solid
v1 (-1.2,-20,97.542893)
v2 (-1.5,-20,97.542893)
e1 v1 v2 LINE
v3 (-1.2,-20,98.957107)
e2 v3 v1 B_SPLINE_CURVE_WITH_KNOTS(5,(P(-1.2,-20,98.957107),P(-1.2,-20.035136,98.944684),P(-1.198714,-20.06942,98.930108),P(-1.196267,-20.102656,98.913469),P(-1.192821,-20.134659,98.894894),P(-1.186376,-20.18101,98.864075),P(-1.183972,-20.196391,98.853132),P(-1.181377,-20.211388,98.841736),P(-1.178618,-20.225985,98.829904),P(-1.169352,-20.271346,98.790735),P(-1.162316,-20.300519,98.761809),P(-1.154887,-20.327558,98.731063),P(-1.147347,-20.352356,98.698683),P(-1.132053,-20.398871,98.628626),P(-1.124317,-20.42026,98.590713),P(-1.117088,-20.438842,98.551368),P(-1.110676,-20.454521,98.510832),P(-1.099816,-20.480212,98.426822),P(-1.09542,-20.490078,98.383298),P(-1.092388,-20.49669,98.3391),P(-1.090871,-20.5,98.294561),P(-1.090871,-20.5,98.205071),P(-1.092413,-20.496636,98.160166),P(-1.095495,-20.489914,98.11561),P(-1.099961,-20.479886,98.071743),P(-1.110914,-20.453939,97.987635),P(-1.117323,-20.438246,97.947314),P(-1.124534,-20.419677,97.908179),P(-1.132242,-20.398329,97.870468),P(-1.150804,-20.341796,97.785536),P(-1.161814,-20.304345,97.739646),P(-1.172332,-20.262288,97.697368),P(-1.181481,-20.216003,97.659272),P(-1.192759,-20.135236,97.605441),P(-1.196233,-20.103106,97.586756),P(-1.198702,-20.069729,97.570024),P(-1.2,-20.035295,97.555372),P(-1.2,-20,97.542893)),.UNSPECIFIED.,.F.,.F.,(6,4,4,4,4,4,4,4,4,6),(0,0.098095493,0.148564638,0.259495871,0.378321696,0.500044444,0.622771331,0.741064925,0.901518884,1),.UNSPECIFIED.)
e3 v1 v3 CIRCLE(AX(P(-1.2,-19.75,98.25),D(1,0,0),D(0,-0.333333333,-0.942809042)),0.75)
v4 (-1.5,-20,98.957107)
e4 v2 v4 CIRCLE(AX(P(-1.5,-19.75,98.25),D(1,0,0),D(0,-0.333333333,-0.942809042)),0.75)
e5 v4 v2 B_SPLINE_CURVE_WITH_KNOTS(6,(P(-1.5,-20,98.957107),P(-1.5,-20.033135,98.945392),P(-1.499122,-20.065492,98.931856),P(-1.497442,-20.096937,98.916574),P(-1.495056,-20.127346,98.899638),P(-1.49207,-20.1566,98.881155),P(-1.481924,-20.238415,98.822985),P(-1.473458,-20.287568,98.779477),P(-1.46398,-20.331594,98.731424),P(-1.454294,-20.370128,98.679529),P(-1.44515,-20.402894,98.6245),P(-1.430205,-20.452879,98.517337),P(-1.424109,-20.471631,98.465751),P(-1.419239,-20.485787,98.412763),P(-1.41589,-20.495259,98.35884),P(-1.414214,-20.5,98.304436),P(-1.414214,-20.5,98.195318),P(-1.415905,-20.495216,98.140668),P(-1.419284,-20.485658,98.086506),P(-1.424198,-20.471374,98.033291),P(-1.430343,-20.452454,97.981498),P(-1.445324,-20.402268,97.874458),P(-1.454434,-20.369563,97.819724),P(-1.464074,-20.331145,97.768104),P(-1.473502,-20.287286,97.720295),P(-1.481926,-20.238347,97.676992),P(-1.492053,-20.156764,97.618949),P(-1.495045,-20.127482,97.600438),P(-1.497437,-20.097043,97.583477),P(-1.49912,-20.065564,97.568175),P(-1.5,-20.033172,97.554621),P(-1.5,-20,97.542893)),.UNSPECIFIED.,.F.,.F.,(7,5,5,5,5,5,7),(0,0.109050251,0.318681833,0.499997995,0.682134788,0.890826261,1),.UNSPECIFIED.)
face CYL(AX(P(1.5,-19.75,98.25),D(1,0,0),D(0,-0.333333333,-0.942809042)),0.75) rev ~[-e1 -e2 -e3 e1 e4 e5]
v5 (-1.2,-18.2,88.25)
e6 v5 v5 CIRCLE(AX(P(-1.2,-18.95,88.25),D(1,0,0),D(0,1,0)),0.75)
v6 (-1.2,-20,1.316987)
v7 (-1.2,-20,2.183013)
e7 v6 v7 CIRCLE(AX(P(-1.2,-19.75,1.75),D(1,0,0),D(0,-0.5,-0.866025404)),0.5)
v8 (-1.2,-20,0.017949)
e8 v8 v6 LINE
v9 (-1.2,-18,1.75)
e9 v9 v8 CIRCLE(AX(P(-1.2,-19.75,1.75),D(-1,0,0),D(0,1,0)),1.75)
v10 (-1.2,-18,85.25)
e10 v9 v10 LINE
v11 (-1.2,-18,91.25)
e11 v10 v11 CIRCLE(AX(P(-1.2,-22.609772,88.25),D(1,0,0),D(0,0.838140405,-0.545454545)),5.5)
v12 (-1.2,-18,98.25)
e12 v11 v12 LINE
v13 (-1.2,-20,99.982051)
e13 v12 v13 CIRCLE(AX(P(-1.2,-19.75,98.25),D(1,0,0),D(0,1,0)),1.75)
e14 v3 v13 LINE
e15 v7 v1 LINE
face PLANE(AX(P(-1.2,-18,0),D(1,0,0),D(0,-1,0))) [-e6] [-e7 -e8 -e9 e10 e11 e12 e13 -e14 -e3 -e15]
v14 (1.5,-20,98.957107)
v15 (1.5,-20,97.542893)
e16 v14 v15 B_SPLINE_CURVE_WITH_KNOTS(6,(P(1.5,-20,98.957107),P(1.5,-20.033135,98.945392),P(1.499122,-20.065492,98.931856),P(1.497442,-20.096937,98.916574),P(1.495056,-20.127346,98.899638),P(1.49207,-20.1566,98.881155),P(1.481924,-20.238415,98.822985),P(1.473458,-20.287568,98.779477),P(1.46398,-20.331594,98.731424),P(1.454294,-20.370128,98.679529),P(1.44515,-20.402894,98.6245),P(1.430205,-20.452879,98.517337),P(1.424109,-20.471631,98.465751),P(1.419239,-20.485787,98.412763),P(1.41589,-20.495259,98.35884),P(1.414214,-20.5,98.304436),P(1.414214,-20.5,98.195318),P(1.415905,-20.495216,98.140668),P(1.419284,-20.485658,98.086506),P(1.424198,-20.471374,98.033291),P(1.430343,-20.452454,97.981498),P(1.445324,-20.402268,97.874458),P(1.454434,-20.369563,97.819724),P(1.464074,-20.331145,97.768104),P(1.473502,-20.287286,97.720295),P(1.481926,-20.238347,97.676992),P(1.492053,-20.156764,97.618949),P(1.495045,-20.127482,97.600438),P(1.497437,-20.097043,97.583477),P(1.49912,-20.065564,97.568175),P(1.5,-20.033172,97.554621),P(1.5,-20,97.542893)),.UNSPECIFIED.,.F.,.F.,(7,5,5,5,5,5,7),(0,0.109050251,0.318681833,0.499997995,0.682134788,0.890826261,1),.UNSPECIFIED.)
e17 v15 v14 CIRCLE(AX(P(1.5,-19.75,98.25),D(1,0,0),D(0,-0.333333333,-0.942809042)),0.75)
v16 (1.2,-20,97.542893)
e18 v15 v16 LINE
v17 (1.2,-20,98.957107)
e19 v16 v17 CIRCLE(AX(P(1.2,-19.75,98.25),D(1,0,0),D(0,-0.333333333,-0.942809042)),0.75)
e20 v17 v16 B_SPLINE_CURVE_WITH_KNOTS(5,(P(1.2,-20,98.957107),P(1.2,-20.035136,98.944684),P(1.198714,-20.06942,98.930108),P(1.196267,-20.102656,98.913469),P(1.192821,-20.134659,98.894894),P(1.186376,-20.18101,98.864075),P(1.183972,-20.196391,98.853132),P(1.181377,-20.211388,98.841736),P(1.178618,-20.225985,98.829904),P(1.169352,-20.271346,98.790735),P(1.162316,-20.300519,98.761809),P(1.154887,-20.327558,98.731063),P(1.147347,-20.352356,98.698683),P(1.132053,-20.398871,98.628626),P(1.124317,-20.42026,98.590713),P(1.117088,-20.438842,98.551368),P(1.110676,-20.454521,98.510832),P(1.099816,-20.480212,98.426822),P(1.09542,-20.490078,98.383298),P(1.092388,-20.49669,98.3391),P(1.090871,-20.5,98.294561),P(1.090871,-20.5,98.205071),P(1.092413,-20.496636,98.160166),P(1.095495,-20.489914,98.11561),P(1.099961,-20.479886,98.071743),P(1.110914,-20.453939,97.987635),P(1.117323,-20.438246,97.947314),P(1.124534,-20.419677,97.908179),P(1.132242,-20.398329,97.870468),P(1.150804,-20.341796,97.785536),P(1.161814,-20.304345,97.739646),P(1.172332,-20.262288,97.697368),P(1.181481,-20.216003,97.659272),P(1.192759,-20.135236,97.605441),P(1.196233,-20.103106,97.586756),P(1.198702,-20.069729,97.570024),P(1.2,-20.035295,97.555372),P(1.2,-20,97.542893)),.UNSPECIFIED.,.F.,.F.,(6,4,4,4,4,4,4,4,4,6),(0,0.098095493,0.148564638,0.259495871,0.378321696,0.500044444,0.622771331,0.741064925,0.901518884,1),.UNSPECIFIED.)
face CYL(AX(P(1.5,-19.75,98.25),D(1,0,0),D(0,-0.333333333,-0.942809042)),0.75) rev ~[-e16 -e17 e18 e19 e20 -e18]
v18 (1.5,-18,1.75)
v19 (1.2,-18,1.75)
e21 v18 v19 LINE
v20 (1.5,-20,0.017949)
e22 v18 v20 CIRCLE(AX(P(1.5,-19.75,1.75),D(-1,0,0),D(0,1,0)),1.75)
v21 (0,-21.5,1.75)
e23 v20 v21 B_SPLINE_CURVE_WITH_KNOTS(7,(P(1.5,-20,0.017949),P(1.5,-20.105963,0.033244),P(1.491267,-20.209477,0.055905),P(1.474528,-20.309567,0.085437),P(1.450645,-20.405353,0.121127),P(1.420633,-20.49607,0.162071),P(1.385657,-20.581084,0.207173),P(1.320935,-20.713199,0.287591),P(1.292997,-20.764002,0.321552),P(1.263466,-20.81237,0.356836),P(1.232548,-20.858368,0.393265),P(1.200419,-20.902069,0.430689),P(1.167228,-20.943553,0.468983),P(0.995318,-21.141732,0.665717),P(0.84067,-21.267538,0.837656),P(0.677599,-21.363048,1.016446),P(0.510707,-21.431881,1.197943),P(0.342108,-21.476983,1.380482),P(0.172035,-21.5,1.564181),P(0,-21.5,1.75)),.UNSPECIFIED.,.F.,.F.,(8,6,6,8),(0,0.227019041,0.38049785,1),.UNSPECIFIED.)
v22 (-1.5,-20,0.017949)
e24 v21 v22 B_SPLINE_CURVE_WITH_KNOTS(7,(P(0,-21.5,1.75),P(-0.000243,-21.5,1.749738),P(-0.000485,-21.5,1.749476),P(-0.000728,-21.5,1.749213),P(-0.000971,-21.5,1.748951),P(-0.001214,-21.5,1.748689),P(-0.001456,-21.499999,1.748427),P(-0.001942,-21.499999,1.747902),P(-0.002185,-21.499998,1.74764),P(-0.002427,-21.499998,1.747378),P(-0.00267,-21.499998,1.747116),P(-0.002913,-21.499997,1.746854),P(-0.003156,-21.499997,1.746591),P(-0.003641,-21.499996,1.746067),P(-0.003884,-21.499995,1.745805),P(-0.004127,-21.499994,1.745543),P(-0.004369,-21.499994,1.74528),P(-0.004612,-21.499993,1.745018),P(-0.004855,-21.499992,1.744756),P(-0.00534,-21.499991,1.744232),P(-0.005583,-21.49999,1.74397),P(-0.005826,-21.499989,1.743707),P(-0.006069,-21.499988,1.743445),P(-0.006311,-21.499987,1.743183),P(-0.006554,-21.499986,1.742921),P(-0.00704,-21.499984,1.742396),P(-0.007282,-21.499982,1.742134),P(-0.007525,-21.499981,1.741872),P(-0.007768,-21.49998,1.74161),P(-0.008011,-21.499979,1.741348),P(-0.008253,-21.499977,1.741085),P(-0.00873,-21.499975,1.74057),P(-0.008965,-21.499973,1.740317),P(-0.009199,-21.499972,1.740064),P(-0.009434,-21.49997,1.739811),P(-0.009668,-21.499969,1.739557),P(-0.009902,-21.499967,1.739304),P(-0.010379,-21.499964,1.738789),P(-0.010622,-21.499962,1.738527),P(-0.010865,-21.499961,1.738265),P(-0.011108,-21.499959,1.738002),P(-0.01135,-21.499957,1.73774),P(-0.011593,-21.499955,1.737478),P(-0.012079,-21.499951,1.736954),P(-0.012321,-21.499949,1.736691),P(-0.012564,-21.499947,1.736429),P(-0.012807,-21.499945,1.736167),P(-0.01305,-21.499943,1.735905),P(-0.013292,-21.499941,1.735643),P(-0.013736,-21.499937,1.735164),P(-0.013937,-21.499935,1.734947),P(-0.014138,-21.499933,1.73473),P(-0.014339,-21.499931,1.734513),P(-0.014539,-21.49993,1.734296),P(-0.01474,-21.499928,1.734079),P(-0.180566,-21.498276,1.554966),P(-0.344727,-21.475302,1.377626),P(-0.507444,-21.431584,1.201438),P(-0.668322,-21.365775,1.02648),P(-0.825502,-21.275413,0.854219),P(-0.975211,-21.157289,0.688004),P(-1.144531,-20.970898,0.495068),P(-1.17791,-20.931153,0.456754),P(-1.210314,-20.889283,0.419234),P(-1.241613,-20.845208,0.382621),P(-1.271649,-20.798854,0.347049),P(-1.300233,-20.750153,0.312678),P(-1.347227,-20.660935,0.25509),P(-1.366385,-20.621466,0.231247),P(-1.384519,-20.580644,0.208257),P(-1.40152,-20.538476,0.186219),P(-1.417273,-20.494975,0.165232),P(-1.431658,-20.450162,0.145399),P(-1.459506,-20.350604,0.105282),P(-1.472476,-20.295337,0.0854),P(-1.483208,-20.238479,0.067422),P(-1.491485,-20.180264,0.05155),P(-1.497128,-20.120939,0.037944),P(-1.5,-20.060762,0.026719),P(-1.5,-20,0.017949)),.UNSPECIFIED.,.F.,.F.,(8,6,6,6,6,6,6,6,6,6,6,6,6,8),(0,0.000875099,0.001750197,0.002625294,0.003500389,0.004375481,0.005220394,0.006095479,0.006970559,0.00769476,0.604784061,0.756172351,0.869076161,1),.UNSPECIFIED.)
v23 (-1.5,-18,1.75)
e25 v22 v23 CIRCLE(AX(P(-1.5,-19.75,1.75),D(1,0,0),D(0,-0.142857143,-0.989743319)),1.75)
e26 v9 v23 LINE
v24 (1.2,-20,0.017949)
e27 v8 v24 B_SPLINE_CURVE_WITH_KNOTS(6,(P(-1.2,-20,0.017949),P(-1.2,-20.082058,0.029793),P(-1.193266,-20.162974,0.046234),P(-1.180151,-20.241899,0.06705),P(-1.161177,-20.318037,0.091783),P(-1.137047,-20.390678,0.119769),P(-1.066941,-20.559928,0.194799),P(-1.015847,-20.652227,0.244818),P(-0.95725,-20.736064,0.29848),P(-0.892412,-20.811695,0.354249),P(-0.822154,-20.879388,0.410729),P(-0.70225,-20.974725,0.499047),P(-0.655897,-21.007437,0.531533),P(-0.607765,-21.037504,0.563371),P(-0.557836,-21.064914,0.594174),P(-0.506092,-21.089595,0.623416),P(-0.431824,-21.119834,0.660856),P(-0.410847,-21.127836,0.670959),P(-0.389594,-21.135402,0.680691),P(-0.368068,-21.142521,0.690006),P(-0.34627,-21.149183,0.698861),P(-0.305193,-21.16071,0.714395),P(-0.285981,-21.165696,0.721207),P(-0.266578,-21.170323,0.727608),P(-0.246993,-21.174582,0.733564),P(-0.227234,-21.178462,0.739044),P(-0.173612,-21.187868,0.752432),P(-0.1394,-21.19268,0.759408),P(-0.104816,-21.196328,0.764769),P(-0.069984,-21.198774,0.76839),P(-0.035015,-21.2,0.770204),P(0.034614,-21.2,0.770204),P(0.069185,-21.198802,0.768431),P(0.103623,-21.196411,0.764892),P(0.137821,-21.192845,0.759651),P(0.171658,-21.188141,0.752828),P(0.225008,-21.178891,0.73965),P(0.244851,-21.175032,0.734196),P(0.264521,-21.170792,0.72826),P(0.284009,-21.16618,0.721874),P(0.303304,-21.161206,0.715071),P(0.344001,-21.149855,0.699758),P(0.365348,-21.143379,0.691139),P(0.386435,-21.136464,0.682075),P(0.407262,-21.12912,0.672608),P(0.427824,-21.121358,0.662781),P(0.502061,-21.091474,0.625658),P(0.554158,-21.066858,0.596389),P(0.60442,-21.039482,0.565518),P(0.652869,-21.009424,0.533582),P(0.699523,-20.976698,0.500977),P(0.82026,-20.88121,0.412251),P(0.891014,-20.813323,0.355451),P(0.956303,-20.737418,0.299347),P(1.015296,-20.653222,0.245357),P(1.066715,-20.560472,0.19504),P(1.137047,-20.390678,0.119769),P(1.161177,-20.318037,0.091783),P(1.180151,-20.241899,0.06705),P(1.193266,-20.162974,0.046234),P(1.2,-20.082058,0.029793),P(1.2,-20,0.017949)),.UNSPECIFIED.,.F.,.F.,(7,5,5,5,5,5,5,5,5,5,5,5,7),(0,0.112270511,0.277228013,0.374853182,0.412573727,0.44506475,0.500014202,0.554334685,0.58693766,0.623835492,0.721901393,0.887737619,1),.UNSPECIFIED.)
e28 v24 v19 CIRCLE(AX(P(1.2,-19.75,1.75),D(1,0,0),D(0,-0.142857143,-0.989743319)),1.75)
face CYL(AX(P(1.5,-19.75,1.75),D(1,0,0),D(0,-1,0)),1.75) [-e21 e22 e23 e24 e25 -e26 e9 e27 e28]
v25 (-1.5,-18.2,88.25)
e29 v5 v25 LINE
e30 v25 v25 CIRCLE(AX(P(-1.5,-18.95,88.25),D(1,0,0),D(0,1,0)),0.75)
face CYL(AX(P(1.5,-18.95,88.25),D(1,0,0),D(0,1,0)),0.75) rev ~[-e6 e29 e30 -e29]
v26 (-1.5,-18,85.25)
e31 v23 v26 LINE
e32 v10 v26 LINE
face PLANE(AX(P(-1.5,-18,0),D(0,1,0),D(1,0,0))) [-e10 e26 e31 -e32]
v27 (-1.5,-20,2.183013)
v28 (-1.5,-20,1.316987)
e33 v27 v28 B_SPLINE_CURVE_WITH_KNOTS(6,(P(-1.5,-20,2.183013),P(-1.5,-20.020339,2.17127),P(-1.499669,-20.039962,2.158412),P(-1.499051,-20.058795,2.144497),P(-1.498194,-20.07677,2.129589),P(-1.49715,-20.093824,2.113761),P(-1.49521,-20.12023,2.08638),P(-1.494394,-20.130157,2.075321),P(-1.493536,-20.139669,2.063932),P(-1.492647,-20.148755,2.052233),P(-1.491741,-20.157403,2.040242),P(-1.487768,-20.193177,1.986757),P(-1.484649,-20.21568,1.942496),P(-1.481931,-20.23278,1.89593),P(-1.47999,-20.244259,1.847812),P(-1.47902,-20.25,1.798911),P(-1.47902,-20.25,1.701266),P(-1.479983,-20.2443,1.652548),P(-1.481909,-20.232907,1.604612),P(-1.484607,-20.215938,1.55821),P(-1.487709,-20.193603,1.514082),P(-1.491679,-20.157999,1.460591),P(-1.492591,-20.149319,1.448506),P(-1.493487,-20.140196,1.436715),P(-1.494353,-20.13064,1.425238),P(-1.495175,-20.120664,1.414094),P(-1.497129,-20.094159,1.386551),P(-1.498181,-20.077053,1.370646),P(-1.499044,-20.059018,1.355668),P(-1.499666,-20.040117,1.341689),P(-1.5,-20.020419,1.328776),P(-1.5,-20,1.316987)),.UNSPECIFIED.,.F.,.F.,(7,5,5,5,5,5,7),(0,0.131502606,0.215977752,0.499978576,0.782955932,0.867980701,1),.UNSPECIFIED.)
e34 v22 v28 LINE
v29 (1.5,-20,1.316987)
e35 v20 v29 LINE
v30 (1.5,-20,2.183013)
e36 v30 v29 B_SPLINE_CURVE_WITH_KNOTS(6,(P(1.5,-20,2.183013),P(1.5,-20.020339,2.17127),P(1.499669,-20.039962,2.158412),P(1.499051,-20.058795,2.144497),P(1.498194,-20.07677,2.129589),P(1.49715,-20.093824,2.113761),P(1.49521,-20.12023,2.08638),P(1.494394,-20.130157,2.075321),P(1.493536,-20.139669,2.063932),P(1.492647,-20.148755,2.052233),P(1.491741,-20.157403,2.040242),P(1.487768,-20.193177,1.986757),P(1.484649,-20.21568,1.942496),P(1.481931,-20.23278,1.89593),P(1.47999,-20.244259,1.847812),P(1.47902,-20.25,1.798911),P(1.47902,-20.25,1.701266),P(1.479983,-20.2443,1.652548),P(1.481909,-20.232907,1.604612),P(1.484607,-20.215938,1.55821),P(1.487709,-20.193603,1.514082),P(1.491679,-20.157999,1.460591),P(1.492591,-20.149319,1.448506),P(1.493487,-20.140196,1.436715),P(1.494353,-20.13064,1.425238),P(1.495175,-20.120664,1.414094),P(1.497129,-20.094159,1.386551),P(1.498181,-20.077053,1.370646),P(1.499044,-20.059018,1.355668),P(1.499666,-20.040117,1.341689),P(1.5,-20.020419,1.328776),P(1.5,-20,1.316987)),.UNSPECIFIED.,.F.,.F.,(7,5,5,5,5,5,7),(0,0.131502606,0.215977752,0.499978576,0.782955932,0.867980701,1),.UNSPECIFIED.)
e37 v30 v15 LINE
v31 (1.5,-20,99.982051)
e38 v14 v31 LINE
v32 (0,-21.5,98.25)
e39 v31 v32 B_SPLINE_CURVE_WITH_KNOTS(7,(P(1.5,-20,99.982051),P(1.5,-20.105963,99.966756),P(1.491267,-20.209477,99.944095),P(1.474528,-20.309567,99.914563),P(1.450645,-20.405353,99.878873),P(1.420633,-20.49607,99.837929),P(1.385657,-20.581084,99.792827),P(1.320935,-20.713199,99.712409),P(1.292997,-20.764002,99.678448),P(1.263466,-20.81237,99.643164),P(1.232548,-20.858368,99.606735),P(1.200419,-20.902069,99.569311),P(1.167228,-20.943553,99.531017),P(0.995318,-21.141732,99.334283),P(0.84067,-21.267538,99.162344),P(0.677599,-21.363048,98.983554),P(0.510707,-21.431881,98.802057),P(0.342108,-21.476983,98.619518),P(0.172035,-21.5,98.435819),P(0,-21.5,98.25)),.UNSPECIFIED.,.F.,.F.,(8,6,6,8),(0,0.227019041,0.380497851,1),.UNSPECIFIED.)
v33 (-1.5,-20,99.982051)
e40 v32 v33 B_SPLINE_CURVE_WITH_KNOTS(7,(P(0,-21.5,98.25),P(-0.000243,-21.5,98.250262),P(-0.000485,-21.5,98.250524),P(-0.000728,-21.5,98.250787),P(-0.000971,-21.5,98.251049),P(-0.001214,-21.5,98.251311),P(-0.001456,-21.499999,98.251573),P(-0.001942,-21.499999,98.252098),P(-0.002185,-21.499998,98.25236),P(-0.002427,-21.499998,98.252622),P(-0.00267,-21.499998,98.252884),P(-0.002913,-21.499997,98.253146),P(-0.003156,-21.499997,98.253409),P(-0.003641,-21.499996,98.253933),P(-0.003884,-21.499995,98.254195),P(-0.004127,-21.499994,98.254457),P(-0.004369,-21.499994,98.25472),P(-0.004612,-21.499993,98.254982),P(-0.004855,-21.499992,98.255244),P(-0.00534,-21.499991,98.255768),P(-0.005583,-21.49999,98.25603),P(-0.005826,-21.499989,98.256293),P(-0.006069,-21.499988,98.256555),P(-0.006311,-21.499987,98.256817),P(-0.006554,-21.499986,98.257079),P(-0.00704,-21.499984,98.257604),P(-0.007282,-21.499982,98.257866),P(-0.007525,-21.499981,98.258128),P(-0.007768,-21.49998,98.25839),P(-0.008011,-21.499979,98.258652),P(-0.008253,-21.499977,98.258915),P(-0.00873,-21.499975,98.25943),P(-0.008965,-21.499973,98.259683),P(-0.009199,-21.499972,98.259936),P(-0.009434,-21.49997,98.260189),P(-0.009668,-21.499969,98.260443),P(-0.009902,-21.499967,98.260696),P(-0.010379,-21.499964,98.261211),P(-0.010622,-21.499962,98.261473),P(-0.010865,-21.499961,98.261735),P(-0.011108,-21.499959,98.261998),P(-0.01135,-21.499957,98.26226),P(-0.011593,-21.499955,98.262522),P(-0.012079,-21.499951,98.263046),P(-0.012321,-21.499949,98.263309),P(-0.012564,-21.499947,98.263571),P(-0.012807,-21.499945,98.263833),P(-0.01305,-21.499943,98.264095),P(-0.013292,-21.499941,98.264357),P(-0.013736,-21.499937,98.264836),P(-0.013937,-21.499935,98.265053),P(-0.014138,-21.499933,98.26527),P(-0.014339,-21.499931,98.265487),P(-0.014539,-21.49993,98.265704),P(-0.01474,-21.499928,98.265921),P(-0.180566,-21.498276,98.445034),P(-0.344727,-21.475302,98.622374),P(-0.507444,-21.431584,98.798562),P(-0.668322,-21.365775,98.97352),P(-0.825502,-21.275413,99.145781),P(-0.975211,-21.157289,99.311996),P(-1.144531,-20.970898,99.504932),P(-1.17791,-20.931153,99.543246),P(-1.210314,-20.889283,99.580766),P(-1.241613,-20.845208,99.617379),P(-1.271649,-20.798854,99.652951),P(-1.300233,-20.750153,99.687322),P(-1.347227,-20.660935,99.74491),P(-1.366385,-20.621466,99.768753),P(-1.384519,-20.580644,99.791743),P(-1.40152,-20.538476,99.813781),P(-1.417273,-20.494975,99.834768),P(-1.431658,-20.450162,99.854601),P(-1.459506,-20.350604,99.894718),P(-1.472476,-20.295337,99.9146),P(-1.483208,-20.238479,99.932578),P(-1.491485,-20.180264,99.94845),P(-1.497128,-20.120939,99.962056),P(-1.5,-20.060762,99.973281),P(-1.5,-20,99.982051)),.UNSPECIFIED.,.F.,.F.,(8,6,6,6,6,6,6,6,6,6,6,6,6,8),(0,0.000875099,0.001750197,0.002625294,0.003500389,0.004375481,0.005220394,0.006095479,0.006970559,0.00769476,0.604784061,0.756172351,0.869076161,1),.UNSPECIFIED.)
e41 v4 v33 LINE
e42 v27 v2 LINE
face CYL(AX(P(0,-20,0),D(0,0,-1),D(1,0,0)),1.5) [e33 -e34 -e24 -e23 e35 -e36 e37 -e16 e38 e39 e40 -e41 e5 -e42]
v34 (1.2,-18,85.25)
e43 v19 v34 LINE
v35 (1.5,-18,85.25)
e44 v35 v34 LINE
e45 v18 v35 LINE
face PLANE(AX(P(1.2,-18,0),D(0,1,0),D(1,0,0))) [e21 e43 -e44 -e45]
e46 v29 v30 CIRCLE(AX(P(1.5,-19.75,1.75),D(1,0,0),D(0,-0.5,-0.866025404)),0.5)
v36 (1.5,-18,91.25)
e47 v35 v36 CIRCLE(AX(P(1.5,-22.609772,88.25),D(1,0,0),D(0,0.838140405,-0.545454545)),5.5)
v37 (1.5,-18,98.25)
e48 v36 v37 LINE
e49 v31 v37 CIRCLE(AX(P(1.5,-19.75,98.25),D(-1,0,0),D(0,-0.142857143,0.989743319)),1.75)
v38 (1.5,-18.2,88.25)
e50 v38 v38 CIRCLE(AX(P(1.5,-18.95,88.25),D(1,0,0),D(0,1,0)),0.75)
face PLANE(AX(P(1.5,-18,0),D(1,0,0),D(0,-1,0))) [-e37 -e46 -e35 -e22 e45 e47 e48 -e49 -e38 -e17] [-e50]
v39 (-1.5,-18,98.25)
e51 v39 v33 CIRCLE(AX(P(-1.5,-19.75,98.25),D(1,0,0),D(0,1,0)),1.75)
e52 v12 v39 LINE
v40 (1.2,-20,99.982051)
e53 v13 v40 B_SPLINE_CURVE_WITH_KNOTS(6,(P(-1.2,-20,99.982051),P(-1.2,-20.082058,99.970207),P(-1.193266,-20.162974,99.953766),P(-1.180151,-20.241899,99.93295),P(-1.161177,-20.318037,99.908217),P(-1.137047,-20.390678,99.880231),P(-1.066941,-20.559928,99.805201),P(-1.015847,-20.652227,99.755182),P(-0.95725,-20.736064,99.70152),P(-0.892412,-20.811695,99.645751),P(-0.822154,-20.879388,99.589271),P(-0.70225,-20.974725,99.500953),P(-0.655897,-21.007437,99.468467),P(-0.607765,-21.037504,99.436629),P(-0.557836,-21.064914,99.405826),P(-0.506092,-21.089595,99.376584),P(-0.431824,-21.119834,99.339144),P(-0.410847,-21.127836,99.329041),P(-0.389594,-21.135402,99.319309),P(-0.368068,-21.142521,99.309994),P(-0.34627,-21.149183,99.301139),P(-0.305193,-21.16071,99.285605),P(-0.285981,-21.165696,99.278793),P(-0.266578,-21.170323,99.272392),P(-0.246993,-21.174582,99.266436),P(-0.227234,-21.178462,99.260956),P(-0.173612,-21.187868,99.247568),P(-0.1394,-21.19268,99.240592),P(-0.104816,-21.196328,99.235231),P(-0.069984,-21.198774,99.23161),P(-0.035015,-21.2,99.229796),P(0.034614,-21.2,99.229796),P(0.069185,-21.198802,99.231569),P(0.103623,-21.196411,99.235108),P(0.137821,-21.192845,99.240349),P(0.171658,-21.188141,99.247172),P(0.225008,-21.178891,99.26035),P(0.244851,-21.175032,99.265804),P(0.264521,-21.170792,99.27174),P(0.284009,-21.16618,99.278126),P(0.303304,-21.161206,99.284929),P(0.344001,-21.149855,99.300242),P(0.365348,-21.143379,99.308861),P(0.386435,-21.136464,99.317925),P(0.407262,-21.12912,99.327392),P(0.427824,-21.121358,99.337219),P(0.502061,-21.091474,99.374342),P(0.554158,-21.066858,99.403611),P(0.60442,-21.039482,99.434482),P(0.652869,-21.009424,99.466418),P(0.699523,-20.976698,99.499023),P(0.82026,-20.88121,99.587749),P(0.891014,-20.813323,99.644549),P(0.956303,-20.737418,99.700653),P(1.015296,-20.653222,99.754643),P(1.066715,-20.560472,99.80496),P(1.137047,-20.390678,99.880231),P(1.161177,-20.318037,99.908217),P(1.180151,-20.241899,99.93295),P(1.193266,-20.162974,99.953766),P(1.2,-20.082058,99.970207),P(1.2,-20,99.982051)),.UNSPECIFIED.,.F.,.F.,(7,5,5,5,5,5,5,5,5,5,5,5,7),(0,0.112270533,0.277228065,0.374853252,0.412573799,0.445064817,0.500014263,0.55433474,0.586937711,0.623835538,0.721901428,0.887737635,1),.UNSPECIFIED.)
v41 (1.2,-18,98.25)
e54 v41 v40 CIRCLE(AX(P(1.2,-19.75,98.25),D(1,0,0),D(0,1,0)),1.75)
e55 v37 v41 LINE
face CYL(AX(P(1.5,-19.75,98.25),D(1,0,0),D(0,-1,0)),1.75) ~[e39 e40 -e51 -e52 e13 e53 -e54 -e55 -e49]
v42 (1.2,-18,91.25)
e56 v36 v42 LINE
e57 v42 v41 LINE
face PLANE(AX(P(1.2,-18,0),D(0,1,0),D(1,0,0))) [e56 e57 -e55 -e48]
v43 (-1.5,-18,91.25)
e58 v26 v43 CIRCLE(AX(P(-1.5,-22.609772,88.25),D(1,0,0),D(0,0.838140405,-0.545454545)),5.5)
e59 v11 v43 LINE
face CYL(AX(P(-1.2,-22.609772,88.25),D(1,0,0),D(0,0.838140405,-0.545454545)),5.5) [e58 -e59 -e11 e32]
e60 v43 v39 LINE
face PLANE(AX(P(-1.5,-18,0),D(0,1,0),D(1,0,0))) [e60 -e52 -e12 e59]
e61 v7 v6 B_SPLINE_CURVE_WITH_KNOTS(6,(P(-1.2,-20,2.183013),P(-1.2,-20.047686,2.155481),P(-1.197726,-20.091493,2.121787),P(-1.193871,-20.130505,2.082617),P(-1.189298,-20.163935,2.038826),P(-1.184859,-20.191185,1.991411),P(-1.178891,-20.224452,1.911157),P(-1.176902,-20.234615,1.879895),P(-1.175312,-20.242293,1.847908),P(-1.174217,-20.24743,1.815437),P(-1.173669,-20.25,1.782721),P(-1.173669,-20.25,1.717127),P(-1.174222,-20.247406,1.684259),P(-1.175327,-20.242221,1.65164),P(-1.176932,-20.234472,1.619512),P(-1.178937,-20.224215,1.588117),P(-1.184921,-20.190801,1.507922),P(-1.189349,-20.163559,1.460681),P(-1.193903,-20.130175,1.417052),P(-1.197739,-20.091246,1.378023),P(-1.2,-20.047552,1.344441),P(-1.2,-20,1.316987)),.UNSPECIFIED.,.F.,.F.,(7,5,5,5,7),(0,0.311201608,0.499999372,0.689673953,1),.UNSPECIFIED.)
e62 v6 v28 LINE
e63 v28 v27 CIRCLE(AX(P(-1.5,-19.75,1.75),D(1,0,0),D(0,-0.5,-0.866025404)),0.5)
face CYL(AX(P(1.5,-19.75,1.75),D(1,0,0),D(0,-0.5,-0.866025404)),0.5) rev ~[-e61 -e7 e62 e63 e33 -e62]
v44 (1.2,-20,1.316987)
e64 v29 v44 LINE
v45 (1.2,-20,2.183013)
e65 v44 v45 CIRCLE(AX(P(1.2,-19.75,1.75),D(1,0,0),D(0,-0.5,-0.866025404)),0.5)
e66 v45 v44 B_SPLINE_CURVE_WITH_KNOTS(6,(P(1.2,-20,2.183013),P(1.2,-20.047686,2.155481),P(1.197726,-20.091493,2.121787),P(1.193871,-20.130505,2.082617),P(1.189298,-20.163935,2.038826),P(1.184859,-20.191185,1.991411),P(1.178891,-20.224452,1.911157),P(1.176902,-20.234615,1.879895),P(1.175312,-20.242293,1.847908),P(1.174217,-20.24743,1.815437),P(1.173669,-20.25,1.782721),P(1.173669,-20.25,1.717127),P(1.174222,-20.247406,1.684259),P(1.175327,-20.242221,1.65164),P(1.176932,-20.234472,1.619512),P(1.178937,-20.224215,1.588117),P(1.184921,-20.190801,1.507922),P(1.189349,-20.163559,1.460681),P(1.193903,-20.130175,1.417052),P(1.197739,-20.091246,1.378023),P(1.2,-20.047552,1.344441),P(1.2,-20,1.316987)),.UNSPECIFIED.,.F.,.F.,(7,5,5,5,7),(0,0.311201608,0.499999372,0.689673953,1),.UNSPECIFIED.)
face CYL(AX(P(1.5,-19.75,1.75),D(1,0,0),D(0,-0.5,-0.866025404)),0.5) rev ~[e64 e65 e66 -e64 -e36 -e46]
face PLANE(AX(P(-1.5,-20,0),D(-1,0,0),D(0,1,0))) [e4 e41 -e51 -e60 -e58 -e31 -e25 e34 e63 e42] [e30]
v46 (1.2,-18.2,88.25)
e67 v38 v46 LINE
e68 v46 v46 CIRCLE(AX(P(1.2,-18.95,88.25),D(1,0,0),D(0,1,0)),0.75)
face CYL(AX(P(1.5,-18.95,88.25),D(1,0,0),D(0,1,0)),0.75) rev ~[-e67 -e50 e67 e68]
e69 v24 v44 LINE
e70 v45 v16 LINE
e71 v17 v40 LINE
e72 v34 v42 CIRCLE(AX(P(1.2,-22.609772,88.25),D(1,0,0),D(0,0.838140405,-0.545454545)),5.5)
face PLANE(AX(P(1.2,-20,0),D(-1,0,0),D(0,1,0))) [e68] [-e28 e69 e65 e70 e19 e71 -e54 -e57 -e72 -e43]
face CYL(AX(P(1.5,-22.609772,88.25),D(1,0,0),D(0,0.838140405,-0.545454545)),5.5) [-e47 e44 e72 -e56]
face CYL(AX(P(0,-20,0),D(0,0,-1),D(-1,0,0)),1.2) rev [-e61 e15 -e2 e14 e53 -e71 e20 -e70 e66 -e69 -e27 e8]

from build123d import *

# Parameters (mm, degrees)
ESTRUSIONE_ESTRUSIONE1_DEPTH = 100
SCHIZZO2_R                   = 0.75
SCHIZZO2_R_2                 = 0.5
TAGLIO_ESTRUSIONE5_DEPTH     = 100
ESTRUSIONE_ESTRUSIONE2_DEPTH = 0.3
ESTRUSIONE_ESTRUSIONE3_START = -0.3
ESTRUSIONE_ESTRUSIONE3_DEPTH = 0.3


with BuildPart() as part:
    # Schizzo1 → Estrusione-Estrusione1 (new body)
    with BuildSketch(Plane.XY):
        with BuildLine():
            Line((-1.5, -18), (-1.2, -18))
            Line((-1.2, -18), (-1.2, -20))
            ThreePointArc((-1.2, -20), (0, -21.2), (1.2, -20))
            Line((1.2, -20), (1.2, -18))
            Line((1.2, -18), (1.5, -18))
            Line((1.5, -18), (1.5, -20))
            ThreePointArc((1.5, -20), (0, -21.5), (-1.5, -20))
            Line((-1.5, -20), (-1.5, -18))
        make_face()
    extrude(amount=ESTRUSIONE_ESTRUSIONE1_DEPTH)

    # Schizzo2 → Taglio-Estrusione5 (cut)
    with BuildSketch(Plane(origin=(1.5, 0, 0), x_dir=(0, 0, -1), z_dir=(1, 0, 0))):
        with Locations(Location((-98.25, -19.75, 0), (0, 0, 340.528779366))):
            Circle(SCHIZZO2_R)
        with Locations(Location((-88.25, -18.95, 0), (0, 0, 90))):
            Circle(SCHIZZO2_R)
        with Locations(Location((-1.75, -19.75, 0), (0, 0, 330))):
            Circle(SCHIZZO2_R_2)
        with BuildLine():
            Line((-98.25, -18), (-98.25, -16.563576213))
            Line((-98.25, -16.563576213), (-100.988318438, -16.563576213))
            Line((-100.988318438, -16.563576213), (-100.988318438, -22.305317171))
            Line((-100.988318438, -22.305317171), (-98.25, -22.305317171))
            Line((-98.25, -22.305317171), (-98.25, -21.5))
            ThreePointArc((-98.25, -21.5), (-100, -19.75), (-98.25, -18))
        make_face()
        with BuildLine():
            Line((-1.75, -18), (-1.75, -17.014244045))
            Line((-1.75, -17.014244045), (0.783864607, -17.014244045))
            Line((0.783864607, -17.014244045), (0.783864607, -22.108114786))
            Line((0.783864607, -22.108114786), (-1.75, -22.108114786))
            Line((-1.75, -22.108114786), (-1.75, -21.5))
            ThreePointArc((-1.75, -21.5), (0, -19.75), (-1.75, -18))
        make_face()
    extrude(amount=-TAGLIO_ESTRUSIONE5_DEPTH, mode=Mode.SUBTRACT)

    # Schizzo3 → Estrusione-Estrusione2 (add)
    with BuildSketch(Plane(origin=(1.5, 0, 0), x_dir=(0, 0, -1), z_dir=(1, 0, 0))):
        with BuildLine():
            Line((-91.25, -18), (-85.25, -18))
            ThreePointArc((-85.25, -18), (-88.25, -17.109772229), (-91.25, -18))
        make_face()
    extrude(amount=-ESTRUSIONE_ESTRUSIONE2_DEPTH)

    # Schizzo4 → Estrusione-Estrusione3 (add)
    with BuildSketch(Plane.ZY.offset(1.5).offset(ESTRUSIONE_ESTRUSIONE3_START)):
        with BuildLine():
            Line((91.25, -18), (85.25, -18))
            ThreePointArc((85.25, -18), (88.25, -17.109772229), (91.25, -18))
        make_face()
    extrude(amount=ESTRUSIONE_ESTRUSIONE3_DEPTH)


solid = part.part
